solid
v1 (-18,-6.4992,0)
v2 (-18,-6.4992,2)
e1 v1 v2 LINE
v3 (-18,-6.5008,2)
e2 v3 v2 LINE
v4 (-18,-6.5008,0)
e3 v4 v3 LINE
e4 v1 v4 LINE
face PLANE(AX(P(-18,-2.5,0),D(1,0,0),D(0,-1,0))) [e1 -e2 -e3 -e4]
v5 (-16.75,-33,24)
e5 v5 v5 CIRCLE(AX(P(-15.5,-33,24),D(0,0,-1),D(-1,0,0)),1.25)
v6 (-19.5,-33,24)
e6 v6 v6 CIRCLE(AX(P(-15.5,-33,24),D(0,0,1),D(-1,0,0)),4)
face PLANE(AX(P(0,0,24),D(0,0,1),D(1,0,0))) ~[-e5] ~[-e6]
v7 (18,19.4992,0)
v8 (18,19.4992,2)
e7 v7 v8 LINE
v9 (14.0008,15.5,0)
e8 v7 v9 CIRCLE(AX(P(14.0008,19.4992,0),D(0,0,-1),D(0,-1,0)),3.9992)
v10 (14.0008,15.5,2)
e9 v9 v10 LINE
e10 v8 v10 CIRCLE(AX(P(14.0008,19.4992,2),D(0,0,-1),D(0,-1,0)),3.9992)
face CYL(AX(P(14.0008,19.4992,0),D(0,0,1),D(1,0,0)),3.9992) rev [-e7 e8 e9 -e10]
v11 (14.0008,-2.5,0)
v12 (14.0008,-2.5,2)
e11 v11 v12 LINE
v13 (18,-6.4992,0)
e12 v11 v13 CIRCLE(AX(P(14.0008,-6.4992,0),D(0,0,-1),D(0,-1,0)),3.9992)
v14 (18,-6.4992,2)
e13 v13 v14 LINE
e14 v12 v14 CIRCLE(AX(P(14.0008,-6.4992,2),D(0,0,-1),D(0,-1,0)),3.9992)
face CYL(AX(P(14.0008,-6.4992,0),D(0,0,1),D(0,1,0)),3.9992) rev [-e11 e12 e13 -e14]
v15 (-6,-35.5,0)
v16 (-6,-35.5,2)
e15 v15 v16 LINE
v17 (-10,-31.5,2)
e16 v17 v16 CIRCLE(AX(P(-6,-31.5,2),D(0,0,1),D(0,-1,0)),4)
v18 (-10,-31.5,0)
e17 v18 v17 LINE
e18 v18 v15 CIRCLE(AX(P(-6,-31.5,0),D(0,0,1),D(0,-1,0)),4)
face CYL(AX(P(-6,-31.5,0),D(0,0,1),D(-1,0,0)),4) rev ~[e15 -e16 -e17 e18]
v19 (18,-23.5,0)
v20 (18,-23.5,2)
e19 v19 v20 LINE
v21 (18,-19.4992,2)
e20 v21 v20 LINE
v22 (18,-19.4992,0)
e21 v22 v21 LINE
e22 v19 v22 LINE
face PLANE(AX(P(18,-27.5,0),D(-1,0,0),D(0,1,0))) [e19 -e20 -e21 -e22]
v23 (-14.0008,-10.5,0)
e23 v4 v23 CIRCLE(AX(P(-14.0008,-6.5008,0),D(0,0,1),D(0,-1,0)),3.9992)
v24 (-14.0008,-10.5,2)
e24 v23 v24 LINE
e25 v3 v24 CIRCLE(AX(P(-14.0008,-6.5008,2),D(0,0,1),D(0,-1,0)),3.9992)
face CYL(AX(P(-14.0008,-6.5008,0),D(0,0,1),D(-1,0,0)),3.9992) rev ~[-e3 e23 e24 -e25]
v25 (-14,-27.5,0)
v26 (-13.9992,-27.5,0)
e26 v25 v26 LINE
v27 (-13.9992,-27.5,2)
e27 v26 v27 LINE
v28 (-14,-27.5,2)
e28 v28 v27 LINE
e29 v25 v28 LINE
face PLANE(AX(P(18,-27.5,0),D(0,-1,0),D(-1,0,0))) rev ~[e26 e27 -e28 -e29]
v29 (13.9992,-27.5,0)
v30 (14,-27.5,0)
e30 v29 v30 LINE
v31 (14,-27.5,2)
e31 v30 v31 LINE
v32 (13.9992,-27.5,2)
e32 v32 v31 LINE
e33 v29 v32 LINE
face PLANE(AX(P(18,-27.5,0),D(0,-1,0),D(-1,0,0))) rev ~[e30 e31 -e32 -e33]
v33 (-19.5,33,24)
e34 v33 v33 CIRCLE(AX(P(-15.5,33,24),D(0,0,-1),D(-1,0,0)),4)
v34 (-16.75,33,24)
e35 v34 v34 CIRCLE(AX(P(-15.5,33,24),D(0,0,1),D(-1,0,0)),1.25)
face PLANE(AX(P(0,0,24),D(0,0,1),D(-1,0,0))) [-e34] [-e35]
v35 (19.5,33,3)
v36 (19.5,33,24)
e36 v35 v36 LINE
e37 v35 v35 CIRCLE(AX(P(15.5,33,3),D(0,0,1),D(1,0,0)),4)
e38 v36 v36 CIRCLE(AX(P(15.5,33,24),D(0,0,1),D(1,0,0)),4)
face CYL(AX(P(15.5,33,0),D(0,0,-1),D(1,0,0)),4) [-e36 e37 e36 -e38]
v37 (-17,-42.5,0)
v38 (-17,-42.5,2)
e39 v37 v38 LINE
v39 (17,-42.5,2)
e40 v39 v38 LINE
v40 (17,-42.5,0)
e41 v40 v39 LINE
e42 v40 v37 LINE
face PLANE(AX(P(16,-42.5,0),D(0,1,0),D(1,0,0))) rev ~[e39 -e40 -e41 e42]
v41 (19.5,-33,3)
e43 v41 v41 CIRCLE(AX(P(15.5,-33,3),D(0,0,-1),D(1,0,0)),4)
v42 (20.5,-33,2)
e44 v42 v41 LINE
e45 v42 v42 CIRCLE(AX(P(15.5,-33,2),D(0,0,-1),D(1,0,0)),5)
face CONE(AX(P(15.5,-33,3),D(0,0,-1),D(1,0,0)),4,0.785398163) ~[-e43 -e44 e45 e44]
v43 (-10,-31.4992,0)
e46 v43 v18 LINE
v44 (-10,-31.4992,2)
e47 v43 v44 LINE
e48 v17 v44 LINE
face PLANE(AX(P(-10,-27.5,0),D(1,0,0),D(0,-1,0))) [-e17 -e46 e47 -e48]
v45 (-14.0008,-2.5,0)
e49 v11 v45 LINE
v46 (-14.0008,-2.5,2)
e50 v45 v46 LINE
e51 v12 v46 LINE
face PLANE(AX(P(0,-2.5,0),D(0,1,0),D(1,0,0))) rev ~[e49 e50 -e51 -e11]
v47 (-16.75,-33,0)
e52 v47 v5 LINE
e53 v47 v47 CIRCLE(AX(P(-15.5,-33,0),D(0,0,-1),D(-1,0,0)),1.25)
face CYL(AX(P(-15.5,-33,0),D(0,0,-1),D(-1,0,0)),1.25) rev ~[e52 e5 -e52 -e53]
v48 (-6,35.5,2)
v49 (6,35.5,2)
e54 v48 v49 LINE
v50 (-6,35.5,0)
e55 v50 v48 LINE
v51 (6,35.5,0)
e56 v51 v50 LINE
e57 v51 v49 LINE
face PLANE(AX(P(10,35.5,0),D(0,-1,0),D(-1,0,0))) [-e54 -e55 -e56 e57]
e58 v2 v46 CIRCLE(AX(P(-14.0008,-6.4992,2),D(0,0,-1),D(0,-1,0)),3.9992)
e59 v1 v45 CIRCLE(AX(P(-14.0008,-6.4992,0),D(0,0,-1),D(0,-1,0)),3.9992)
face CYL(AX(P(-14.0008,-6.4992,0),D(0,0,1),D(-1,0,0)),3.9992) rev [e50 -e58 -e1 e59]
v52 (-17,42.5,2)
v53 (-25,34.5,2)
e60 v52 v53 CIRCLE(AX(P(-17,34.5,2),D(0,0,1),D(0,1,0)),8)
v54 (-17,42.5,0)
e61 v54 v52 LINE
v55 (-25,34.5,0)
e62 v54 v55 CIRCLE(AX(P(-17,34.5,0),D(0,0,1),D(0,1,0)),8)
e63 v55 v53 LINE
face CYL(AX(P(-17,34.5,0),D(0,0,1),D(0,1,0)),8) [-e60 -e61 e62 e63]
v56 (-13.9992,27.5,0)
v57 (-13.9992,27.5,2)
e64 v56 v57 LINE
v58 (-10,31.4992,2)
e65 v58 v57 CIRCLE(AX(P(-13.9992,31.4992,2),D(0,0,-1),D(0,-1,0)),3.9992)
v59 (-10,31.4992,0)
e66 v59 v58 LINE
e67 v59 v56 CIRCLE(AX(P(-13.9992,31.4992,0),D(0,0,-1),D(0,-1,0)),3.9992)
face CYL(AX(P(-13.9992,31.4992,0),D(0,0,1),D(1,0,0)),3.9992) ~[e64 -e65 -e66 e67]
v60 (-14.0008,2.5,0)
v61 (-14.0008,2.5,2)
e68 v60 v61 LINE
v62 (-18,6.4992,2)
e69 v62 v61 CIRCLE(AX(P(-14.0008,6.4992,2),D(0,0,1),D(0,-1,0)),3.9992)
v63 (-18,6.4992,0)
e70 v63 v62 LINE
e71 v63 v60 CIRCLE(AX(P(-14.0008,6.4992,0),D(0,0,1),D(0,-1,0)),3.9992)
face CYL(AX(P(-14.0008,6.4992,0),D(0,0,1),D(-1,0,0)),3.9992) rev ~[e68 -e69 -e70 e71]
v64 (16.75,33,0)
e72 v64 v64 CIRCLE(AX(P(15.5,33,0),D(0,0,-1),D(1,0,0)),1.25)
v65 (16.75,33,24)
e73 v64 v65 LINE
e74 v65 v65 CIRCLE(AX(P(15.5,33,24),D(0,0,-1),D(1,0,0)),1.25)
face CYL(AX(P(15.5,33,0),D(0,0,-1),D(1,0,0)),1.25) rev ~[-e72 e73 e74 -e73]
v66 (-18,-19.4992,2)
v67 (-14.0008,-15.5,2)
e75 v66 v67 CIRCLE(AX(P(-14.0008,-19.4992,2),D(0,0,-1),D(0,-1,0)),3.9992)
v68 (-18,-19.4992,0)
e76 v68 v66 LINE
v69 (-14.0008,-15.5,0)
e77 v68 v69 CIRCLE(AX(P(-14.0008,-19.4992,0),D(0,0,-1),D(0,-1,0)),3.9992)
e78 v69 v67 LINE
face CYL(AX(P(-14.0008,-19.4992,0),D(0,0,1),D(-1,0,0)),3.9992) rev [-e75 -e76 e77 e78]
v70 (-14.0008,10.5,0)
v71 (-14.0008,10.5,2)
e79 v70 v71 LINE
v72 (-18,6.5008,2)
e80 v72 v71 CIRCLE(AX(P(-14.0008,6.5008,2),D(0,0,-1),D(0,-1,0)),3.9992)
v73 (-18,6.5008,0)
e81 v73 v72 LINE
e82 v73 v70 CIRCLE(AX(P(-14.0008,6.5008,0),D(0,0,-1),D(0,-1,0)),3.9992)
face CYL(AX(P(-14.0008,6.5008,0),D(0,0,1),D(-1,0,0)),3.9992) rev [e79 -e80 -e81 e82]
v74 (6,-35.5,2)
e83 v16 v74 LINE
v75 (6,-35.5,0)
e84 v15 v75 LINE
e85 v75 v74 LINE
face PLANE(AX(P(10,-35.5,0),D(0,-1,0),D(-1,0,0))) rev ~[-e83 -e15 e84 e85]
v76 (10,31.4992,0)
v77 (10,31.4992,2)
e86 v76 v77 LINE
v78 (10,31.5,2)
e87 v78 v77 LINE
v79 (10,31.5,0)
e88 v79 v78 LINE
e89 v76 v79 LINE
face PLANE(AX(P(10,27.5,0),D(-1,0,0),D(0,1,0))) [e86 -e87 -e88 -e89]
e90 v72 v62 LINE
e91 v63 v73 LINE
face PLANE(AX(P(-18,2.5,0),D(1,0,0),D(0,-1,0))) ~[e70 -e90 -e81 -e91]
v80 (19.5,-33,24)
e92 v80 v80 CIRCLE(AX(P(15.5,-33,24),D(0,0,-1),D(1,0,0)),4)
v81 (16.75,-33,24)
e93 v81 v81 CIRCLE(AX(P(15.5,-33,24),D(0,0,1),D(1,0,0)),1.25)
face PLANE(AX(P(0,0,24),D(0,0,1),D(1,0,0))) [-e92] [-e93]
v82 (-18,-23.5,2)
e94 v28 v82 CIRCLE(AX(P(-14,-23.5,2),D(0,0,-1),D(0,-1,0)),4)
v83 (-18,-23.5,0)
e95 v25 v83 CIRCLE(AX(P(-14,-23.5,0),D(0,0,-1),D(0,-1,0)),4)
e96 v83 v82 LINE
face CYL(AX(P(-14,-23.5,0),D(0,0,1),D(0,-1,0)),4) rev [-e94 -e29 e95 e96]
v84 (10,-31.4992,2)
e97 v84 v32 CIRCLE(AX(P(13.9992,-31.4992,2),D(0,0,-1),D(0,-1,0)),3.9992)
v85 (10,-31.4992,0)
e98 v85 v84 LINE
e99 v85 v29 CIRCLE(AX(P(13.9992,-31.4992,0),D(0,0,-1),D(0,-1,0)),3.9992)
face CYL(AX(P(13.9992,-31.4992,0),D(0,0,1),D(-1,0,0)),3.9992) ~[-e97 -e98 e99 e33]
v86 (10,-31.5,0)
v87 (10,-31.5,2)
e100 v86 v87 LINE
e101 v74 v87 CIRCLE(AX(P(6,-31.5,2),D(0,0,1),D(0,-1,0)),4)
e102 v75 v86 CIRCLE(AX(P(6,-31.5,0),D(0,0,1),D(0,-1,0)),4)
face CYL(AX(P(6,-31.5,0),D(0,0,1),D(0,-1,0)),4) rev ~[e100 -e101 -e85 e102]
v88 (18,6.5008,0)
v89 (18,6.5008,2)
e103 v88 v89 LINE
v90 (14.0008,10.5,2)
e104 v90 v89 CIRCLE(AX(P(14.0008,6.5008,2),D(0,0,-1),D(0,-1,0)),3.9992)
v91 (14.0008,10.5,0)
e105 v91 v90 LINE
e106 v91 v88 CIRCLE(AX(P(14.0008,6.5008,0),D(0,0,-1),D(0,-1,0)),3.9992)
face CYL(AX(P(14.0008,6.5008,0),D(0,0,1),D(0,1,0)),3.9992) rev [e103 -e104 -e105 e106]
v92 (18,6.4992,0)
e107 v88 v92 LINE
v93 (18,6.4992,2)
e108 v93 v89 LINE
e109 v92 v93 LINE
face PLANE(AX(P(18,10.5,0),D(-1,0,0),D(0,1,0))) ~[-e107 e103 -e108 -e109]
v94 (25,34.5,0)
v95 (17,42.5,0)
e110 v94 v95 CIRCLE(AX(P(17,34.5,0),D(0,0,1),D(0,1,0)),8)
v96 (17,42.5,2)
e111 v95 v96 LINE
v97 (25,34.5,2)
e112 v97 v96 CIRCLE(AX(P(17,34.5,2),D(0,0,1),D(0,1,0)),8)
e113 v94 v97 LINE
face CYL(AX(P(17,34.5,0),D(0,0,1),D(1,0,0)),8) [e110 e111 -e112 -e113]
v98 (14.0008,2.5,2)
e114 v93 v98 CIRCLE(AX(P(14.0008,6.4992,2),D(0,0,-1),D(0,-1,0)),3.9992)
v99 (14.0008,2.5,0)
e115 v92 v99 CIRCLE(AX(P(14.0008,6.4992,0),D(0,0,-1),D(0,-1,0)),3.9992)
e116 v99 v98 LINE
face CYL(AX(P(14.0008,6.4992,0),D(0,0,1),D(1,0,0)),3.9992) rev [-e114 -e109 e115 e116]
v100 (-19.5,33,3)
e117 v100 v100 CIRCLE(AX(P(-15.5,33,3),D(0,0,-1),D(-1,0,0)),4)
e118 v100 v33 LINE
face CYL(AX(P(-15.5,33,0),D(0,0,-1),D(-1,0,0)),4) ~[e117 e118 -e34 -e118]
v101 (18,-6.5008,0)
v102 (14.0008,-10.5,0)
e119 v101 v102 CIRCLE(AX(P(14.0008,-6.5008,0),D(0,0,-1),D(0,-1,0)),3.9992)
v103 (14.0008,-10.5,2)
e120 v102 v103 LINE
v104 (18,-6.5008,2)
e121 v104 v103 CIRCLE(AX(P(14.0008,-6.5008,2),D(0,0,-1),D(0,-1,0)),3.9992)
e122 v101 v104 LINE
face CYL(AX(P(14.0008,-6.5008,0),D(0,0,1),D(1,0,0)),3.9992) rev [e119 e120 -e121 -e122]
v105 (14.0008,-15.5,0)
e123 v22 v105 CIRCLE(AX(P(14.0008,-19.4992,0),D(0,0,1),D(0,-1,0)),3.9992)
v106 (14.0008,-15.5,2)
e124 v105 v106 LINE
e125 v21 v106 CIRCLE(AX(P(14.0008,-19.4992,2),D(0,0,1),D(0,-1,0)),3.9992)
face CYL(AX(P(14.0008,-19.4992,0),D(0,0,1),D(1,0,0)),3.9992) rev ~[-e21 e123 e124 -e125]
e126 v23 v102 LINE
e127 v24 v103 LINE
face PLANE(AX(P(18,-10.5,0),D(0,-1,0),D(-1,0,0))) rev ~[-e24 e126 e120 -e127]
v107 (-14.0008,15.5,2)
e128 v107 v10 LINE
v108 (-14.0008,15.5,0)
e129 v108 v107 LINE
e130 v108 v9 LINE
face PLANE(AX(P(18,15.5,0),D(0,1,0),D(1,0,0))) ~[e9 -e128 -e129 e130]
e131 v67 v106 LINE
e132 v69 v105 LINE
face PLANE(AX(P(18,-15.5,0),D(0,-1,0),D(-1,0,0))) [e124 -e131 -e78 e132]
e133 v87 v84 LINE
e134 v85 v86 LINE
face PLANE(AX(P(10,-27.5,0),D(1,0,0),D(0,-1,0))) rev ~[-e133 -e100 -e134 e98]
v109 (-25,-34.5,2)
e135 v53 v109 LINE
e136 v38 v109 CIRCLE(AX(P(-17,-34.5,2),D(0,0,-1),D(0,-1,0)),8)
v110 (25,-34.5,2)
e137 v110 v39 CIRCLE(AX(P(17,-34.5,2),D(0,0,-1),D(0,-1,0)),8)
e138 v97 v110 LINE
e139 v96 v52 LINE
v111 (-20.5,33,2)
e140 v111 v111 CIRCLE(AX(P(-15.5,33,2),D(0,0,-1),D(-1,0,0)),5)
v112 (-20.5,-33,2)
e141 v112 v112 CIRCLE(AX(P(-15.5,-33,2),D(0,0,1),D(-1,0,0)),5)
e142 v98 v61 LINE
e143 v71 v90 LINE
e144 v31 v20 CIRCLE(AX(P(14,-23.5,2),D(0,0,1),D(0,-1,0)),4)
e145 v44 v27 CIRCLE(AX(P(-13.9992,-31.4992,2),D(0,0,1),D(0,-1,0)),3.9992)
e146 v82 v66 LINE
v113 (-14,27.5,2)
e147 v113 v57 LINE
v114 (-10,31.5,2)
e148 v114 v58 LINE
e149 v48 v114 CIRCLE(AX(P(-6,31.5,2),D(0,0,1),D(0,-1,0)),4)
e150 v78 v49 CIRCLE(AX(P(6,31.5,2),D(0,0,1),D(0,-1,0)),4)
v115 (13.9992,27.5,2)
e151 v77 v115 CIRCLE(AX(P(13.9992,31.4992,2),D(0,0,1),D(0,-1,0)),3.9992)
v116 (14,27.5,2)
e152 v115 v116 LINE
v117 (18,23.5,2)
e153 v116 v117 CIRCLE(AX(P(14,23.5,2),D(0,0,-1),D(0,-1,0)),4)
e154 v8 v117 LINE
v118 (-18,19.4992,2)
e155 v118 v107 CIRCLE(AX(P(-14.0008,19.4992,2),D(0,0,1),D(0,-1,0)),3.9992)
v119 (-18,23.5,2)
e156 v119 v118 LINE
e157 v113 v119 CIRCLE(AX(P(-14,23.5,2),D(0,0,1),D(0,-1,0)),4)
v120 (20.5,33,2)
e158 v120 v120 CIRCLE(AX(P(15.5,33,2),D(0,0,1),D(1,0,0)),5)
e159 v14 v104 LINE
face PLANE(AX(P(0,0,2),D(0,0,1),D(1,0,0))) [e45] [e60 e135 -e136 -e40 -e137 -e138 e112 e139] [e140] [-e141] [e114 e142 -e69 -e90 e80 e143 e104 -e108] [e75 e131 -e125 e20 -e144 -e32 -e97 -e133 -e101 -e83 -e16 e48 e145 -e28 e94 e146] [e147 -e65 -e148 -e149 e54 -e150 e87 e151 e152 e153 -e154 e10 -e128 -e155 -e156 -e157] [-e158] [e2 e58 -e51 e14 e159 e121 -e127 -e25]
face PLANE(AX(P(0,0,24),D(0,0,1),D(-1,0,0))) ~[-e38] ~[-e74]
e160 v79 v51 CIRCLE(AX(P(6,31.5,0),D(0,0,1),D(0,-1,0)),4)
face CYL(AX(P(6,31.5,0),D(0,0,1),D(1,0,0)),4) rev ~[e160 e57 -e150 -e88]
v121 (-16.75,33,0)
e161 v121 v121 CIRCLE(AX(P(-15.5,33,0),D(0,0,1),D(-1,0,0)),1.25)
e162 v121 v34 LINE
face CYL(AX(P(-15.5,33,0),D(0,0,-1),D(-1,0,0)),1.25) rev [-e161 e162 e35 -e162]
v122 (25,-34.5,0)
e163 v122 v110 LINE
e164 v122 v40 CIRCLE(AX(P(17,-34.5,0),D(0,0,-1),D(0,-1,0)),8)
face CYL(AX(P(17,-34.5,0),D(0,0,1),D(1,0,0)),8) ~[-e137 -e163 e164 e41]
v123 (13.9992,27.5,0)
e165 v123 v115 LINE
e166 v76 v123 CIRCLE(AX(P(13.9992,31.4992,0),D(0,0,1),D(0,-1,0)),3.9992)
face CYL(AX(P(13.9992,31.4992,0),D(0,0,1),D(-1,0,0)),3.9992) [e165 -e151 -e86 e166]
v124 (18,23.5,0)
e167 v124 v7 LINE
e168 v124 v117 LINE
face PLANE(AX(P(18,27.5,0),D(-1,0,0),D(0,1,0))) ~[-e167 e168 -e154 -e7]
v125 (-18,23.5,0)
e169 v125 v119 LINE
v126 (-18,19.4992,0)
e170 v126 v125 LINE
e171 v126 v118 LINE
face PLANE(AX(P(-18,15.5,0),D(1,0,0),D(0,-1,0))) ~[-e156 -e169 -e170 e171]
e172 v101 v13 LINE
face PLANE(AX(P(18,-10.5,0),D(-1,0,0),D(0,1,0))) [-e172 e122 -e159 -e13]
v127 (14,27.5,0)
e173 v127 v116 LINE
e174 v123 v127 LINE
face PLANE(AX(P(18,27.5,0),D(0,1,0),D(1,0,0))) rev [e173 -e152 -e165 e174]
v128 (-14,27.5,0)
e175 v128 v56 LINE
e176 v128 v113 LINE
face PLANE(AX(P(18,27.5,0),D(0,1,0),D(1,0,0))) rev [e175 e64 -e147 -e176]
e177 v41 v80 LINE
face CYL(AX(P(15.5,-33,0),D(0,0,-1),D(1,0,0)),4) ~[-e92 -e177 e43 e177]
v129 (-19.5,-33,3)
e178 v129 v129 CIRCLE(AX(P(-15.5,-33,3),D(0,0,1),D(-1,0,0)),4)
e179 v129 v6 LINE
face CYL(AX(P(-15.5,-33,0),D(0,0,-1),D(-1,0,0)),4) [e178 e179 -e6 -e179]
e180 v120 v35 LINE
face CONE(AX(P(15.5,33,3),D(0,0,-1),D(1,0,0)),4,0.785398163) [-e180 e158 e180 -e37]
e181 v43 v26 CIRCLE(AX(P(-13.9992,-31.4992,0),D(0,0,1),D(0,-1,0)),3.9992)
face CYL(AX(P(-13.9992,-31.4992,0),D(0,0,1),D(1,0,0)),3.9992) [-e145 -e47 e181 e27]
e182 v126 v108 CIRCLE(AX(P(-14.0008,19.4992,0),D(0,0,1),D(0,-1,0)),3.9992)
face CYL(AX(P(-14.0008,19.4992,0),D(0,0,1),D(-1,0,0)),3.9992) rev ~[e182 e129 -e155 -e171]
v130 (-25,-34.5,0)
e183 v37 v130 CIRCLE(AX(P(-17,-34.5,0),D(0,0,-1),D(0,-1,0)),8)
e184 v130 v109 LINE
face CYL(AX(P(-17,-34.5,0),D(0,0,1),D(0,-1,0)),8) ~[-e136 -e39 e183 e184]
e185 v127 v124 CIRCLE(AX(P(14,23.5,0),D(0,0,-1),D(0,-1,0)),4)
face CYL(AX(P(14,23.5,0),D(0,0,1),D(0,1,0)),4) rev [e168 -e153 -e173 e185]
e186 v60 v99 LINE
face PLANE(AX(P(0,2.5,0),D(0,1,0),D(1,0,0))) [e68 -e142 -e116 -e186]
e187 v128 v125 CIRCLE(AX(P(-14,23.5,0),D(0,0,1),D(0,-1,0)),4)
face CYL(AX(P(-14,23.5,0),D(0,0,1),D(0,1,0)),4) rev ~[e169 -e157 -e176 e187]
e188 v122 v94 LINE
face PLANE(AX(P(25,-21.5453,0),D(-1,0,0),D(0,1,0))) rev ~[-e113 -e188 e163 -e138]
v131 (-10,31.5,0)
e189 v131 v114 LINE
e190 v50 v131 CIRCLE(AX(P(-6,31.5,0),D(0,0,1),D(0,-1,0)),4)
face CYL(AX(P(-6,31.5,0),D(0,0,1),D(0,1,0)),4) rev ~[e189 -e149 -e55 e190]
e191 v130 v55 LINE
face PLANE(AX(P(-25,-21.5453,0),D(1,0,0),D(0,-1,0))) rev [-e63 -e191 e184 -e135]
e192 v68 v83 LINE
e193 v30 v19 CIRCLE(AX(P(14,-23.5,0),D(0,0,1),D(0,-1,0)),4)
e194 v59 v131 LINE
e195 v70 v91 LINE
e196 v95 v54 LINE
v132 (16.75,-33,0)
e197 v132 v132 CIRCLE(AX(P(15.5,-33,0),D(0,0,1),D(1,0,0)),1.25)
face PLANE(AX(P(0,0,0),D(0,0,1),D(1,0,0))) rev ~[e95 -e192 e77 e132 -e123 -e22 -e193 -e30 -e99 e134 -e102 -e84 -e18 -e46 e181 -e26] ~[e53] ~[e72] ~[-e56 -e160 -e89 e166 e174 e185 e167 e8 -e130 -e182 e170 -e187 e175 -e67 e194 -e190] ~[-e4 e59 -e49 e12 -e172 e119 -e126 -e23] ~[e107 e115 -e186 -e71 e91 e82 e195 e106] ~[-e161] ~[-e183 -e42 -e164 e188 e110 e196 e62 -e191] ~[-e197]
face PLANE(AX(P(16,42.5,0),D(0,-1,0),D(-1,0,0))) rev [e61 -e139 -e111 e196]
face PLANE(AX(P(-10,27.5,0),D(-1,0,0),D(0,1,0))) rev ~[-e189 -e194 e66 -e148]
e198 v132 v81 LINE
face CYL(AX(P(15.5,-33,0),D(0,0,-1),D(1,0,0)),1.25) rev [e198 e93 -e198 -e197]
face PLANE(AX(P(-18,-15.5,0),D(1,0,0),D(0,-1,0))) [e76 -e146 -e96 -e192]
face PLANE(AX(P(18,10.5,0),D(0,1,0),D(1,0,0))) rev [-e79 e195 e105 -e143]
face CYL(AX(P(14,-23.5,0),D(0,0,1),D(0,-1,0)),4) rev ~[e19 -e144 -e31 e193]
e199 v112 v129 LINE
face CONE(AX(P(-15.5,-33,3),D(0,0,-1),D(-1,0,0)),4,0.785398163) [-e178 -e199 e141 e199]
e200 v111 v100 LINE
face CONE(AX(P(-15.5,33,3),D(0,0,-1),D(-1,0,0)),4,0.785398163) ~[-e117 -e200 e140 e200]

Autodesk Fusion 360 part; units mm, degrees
sketch "Sketch1" plane through (0, 0, 0) normal (0, 0, 1) x (1, 0, 0)
  line L0 (25, 42.5) -> (-25, 42.5)
  line L1 (-25, 42.5) -> (-25, -42.5)
  line L2 (-25, -42.5) -> (25, -42.5)
  line L3 (25, -42.5) -> (25, 42.5)
  line L4 (25, 42.5) -> (-25, -42.5) construction
  line L5 (-25, 42.5) -> (25, -42.5) construction
  line L6 (25, 42.5) -> (46.6506, 55)
  line L7 (25, 42.5) -> (55, 42.5) construction
  line L8 (0, 42.5) -> (0, -42.5)
  line L9 (-25, 0) -> (25, 0)
  line L10 (25, 42.5) -> (23.5, 45.0981)
  line L11 (23.5, 45.0981) -> (45.1506, 57.5981)
  line L12 (45.1506, 57.5981) -> (46.6506, 55)
  line L13 (25, 42.5) -> (26.5, 39.9019)
  line L14 (26.5, 39.9019) -> (48.1506, 52.4019)
  line L15 (23.5, 45.0981) -> (19, 42.5)
  line L16 (26.5, 39.9019) -> (25, 39.0359)
  line L17 (48.1506, 52.4019) -> (46.6506, 55)
  circle A0 centre (46.6506, 55) radius 8.75
  circle A1 centre (46.6506, 55) radius 7.75
  line L18 (46.6506, 55) -> (42.7756, 61.7117)
  line L19 (46.6506, 55) -> (53.3623, 58.875)
  line L20 (46.6506, 55) -> (50.5256, 48.2883)
  circle A2 centre (46.6506, 55) radius 1.5
  line L21 (46.6506, 55) -> (50.9808, 57.5)
  circle A3 centre (50.9808, 57.5) radius 1.1
  circle A4 centre (42.3205, 52.5) radius 1.1
  line L22 (46.6506, 55) -> (44.1506, 59.3301)
  circle A5 centre (44.1506, 59.3301) radius 1.1
  circle A6 centre (49.1506, 50.6699) radius 1.1
  circle A7 centre (-49.1506, 50.6699) radius 1.1
  circle A8 centre (-50.9808, 57.5) radius 1.1
  circle A9 centre (-44.1506, 59.3301) radius 1.1
  circle A10 centre (-46.6506, 55) radius 1.5
  circle A11 centre (-42.3205, 52.5) radius 1.1
  line L23 (-23.5, 45.0981) -> (-45.1506, 57.5981)
  line L24 (-26.5, 39.9019) -> (-48.1506, 52.4019)
  circle A12 centre (-46.6506, 55) radius 8.75
  circle A13 centre (-46.6506, 55) radius 7.75
  line L25 (-26.5, 39.9019) -> (-25, 39.0359)
  line L26 (-23.5, 45.0981) -> (-19, 42.5)
  circle A14 centre (-46.6506, -55) radius 7.75
  circle A15 centre (-44.1506, -59.3301) radius 1.1
  circle A16 centre (-46.6506, -55) radius 1.5
  circle A17 centre (-49.1506, -50.6699) radius 1.1
  circle A18 centre (-42.3205, -52.5) radius 1.1
  circle A19 centre (-50.9808, -57.5) radius 1.1
  line L27 (-26.5, -39.9019) -> (-48.1506, -52.4019)
  line L28 (-23.5, -45.0981) -> (-45.1506, -57.5981)
  line L29 (-23.5, -45.0981) -> (-19, -42.5)
  line L30 (-26.5, -39.9019) -> (-25, -39.0359)
  line L31 (23.5, -45.0981) -> (19, -42.5)
  line L32 (26.5, -39.9019) -> (25, -39.0359)
  line L33 (26.5, -39.9019) -> (48.1506, -52.4019)
  line L34 (23.5, -45.0981) -> (45.1506, -57.5981)
  circle A20 centre (46.6506, -55) radius 8.75
  circle A21 centre (46.6506, -55) radius 7.75
  circle A22 centre (49.1506, -50.6699) radius 1.1
  circle A23 centre (46.6506, -55) radius 1.5
  circle A24 centre (42.3205, -52.5) radius 1.1
  circle A25 centre (44.1506, -59.3301) radius 1.1
  circle A26 centre (50.9808, -57.5) radius 1.1
  circle A27 centre (-46.6506, -55) radius 7.75
  circle A28 centre (-46.6506, -55) radius 8.75
  line L35 (25, 0) -> (25, -42.5)
  line L36 (0, 0) -> (0, -9)
  line L37 (0, -9) -> (0, -10.6)
  line L38 (0, -9) -> (0, -7.4)
  line L39 (0, -9) -> (1, -9)
  line L40 (19, -42.5) -> (25.9282, -46.5)
  line L41 (25, -39.0359) -> (25.0866, -34.0366)
  line L42 (19, -42.5) -> (16, -42.5)
  line L43 (19, -42.5) -> (14.6699, -40)
  line L44 (14.6699, -40) -> (34.8771, -40) construction
  line L45 (25, -39.0359) -> (17.5453, -34.8631)
  line L46 (14.6699, -40) -> (17.5453, -34.8631)
  line L47 (17.5453, -34.8631) -> (25, -21.5453)
  line L48 (25, -42.5) -> (25, -33)
  line L49 (25, -33) -> (15.5, -33)
  circle A29 centre (15.5, -33) radius 2.3
  circle A30 centre (15.5, -33) radius 4
  line L50 (-25, -42.5) -> (-18, -42.5)
  line L51 (-18, -42.5) -> (-18, -27.5)
  line L52 (-18, 42.5) -> (-18, 27.5)
  line L53 (-25, 42.5) -> (-18, 42.5)
  line L54 (18, 42.5) -> (18, 27.5)
  line L55 (18, -42.5) -> (18, -27.5)
  line L56 (18, -30) -> (18, 27.5)
  line L57 (18, 27.5) -> (-18, 27.5)
  line L58 (-18, 27.5) -> (-18, -27.5)
  line L59 (18, -27.5) -> (-18, -27.5)
  circle A31 centre (15.5, -33) radius 1.25
  circle A32 centre (-15.5, -33) radius 1.25
  circle A33 centre (-15.5, -33) radius 2.3
  circle A34 centre (-15.5, -33) radius 4
  circle A35 centre (-15.5, 33) radius 4
  circle A36 centre (-15.5, 33) radius 2.3
  circle A37 centre (-15.5, 33) radius 1.25
  circle A38 centre (15.5, 33) radius 1.25
  circle A39 centre (15.5, 33) radius 2.3
  circle A40 centre (15.5, 33) radius 4
  line L60 (18, 27.5) -> (18, 15.5)
  line L61 (18, 15.5) -> (-18, 15.5)
  line L62 (18, 15.5) -> (18, 10.5)
  line L63 (18, 10.5) -> (-18, 10.5)
  line L64 (18, -10.5) -> (-18, -10.5)
  line L65 (18, -15.5) -> (-18, -15.5)
  line L66 (0, 0) -> (0, 2.5)
  line L67 (0, 2.5) -> (-18, 2.5)
  line L68 (0, 2.5) -> (18, 2.5)
  line L69 (0, -2.5) -> (18, -2.5)
  line L70 (0, -2.5) -> (-18, -2.5)
  line L71 (0, 27.5) -> (10, 27.5)
  line L72 (10, 27.5) -> (10, 42.5)
  line L73 (-10, 27.5) -> (-10, 42.5)
  line L74 (10, 42.5) -> (10, 35.5)
  line L75 (10, 35.5) -> (-10, 35.5)
  line L76 (10, -35.5) -> (-10, -35.5)
  line L77 (-10, -27.5) -> (-10, -42.5)
  line L78 (10, -27.5) -> (10, -42.5)
  point P0 (-46.6506, -55)
  dimension "d1" = 50
  dimension "d2" = 85
  dimension "d4" = 25
  dimension "d5" = 30
  dimension "d6" = 3
  dimension "d7" = 25
  dimension "d8" = 17.5
  dimension "d9" = 15.5
  dimension "d10" = 3
  dimension "d11" = 5
  dimension "d12" = 2.2
  dimension "d13" = 5
  dimension "d14" = 2.2
  dimension "d23" = 9
  dimension "d24" = 1.6
  dimension "d25" = 1.6
  dimension "d51" = 8
  dimension "d76" = 5
  dimension "d77" = 3
  dimension "d88" = 5
  dimension "d130" = 180
  dimension "d131" = 9.5
  dimension "d132" = 9.5
  dimension "d133" = 4.6
  dimension "d134" = 8
  dimension "d141" = 7
  dimension "d142" = 15
  dimension "d170" = 2.5
  dimension "d180" = 12
  dimension "d181" = 5
  dimension "d182" = 2.5
  dimension "d186" = 10
  dimension "d187" = 7
extrude "Extrude1" add sketch "Sketch1" along normal blind 2 contours L3 L9 L35 L47 A30 L55 L56 | L3 L35 L47 L49 A30 | L8 L9 L36 L56 L69 | L8 L9 L56 L66 L68 | L3 L35 L45 L48 L49 A30 | L47 L49 A30 | L47 L49 A30 L55 L56 | L8 L36 L37 L38 L56 L64 L69 | L2 L3 L35 L43 L45 L48 A30 L55 | L45 L47 L49 A30 L55 | L47 L49 L55 | L46 L47 A30 L55 L56 | L2 L42 L43 L46 A30 L55 L56 L59 L78 | L8 L37 L56 L64 L65 | L45 A30 L55 | L45 L47 L55 | L43 L46 A30 L55 | L45 L46 A30 L55 | L8 L56 L59 L65 | L2 L42 L43 L55 | L8 L59 L76 L78 | L2 L8 L76 L78
extrude "Extrude3" add sketch "Sketch1" along normal blind 24 contours L47 L49 A30 | L47 L49 A30 L55 L56 | L45 L47 L49 A30 L55 | L47 L49 L55 | A29 | L46 L47 A30 L55 L56 | L45 A30 L55 | L45 L47 L55 | L45 L46 A30 L55
mirror "Mirror3" about plane through (0, -27.5, 0) normal (-1, 0, 0) of bodies 1 merged
extrude "Extrude6" cut sketch "Sketch1" along normal blind 12 contours L8 L36 L37 L38 L56 L64 L69 | L8 L56 L63 L68 | L8 L56 L57 L60 L61 L71 | L8 L58 L63 L67 | L8 L36 L37 L38 L58 L64 L70 | L8 L56 L61 L62 L63 | L8 L57 L58 L61 | L8 L56 L59 L65 | L8 L58 L61 L63 | L8 L58 L59 L65
fillet "Fillet4" radius 8 2 edges at (25, -42.5, 1) (-25, -42.5, 1)
mirror "Mirror5" about plane through (18, 0, 0) normal (0, 1, 0) of bodies 1 merged
fillet "Fillet8" radius 4 4 edges at (18, 27.5, 1) (-18, 27.5, 1) (18, -27.5, 1) (-18, -27.5, 1)
fillet "Fillet9" radius 4 12 edges at (-18, -15.5, 1) (-18, -10.5, 1) (-18, -2.5, 1) (-18, 2.5, 1) (18, 2.5, 1) (18, -2.5, 1) (18, -10.5, 1) (18, -15.5, 1) (18, 10.5, 1) (-18, 10.5, 1) (-18, 15.5, 1) (18, 15.5, 1)
chamfer "Chamfer46" distance 1 angle 45 4 edges at (11.7707, 31.5535, 2) (-11.7707, 31.5535, 2) (11.7707, -31.5535, 2) (-11.7707, -31.5535, 2)
extrude "Extrude9" cut sketch "Sketch1" along normal blind 7 contours L8 L57 L71 L72 L75 | L8 L57 L73 L75 | L8 L59 L76 L78 | L8 L59 L76 L77
fillet "Fillet10" radius 4 4 edges at (-10, -35.5, 1) (10, -35.5, 1) (10, 35.5, 1) (-10, 35.5, 1)
fillet "Fillet11" radius 4 4 edges at (-10, 27.5, 1) (10, 27.5, 1) (-10, -27.5, 1) (10, -27.5, 1)
